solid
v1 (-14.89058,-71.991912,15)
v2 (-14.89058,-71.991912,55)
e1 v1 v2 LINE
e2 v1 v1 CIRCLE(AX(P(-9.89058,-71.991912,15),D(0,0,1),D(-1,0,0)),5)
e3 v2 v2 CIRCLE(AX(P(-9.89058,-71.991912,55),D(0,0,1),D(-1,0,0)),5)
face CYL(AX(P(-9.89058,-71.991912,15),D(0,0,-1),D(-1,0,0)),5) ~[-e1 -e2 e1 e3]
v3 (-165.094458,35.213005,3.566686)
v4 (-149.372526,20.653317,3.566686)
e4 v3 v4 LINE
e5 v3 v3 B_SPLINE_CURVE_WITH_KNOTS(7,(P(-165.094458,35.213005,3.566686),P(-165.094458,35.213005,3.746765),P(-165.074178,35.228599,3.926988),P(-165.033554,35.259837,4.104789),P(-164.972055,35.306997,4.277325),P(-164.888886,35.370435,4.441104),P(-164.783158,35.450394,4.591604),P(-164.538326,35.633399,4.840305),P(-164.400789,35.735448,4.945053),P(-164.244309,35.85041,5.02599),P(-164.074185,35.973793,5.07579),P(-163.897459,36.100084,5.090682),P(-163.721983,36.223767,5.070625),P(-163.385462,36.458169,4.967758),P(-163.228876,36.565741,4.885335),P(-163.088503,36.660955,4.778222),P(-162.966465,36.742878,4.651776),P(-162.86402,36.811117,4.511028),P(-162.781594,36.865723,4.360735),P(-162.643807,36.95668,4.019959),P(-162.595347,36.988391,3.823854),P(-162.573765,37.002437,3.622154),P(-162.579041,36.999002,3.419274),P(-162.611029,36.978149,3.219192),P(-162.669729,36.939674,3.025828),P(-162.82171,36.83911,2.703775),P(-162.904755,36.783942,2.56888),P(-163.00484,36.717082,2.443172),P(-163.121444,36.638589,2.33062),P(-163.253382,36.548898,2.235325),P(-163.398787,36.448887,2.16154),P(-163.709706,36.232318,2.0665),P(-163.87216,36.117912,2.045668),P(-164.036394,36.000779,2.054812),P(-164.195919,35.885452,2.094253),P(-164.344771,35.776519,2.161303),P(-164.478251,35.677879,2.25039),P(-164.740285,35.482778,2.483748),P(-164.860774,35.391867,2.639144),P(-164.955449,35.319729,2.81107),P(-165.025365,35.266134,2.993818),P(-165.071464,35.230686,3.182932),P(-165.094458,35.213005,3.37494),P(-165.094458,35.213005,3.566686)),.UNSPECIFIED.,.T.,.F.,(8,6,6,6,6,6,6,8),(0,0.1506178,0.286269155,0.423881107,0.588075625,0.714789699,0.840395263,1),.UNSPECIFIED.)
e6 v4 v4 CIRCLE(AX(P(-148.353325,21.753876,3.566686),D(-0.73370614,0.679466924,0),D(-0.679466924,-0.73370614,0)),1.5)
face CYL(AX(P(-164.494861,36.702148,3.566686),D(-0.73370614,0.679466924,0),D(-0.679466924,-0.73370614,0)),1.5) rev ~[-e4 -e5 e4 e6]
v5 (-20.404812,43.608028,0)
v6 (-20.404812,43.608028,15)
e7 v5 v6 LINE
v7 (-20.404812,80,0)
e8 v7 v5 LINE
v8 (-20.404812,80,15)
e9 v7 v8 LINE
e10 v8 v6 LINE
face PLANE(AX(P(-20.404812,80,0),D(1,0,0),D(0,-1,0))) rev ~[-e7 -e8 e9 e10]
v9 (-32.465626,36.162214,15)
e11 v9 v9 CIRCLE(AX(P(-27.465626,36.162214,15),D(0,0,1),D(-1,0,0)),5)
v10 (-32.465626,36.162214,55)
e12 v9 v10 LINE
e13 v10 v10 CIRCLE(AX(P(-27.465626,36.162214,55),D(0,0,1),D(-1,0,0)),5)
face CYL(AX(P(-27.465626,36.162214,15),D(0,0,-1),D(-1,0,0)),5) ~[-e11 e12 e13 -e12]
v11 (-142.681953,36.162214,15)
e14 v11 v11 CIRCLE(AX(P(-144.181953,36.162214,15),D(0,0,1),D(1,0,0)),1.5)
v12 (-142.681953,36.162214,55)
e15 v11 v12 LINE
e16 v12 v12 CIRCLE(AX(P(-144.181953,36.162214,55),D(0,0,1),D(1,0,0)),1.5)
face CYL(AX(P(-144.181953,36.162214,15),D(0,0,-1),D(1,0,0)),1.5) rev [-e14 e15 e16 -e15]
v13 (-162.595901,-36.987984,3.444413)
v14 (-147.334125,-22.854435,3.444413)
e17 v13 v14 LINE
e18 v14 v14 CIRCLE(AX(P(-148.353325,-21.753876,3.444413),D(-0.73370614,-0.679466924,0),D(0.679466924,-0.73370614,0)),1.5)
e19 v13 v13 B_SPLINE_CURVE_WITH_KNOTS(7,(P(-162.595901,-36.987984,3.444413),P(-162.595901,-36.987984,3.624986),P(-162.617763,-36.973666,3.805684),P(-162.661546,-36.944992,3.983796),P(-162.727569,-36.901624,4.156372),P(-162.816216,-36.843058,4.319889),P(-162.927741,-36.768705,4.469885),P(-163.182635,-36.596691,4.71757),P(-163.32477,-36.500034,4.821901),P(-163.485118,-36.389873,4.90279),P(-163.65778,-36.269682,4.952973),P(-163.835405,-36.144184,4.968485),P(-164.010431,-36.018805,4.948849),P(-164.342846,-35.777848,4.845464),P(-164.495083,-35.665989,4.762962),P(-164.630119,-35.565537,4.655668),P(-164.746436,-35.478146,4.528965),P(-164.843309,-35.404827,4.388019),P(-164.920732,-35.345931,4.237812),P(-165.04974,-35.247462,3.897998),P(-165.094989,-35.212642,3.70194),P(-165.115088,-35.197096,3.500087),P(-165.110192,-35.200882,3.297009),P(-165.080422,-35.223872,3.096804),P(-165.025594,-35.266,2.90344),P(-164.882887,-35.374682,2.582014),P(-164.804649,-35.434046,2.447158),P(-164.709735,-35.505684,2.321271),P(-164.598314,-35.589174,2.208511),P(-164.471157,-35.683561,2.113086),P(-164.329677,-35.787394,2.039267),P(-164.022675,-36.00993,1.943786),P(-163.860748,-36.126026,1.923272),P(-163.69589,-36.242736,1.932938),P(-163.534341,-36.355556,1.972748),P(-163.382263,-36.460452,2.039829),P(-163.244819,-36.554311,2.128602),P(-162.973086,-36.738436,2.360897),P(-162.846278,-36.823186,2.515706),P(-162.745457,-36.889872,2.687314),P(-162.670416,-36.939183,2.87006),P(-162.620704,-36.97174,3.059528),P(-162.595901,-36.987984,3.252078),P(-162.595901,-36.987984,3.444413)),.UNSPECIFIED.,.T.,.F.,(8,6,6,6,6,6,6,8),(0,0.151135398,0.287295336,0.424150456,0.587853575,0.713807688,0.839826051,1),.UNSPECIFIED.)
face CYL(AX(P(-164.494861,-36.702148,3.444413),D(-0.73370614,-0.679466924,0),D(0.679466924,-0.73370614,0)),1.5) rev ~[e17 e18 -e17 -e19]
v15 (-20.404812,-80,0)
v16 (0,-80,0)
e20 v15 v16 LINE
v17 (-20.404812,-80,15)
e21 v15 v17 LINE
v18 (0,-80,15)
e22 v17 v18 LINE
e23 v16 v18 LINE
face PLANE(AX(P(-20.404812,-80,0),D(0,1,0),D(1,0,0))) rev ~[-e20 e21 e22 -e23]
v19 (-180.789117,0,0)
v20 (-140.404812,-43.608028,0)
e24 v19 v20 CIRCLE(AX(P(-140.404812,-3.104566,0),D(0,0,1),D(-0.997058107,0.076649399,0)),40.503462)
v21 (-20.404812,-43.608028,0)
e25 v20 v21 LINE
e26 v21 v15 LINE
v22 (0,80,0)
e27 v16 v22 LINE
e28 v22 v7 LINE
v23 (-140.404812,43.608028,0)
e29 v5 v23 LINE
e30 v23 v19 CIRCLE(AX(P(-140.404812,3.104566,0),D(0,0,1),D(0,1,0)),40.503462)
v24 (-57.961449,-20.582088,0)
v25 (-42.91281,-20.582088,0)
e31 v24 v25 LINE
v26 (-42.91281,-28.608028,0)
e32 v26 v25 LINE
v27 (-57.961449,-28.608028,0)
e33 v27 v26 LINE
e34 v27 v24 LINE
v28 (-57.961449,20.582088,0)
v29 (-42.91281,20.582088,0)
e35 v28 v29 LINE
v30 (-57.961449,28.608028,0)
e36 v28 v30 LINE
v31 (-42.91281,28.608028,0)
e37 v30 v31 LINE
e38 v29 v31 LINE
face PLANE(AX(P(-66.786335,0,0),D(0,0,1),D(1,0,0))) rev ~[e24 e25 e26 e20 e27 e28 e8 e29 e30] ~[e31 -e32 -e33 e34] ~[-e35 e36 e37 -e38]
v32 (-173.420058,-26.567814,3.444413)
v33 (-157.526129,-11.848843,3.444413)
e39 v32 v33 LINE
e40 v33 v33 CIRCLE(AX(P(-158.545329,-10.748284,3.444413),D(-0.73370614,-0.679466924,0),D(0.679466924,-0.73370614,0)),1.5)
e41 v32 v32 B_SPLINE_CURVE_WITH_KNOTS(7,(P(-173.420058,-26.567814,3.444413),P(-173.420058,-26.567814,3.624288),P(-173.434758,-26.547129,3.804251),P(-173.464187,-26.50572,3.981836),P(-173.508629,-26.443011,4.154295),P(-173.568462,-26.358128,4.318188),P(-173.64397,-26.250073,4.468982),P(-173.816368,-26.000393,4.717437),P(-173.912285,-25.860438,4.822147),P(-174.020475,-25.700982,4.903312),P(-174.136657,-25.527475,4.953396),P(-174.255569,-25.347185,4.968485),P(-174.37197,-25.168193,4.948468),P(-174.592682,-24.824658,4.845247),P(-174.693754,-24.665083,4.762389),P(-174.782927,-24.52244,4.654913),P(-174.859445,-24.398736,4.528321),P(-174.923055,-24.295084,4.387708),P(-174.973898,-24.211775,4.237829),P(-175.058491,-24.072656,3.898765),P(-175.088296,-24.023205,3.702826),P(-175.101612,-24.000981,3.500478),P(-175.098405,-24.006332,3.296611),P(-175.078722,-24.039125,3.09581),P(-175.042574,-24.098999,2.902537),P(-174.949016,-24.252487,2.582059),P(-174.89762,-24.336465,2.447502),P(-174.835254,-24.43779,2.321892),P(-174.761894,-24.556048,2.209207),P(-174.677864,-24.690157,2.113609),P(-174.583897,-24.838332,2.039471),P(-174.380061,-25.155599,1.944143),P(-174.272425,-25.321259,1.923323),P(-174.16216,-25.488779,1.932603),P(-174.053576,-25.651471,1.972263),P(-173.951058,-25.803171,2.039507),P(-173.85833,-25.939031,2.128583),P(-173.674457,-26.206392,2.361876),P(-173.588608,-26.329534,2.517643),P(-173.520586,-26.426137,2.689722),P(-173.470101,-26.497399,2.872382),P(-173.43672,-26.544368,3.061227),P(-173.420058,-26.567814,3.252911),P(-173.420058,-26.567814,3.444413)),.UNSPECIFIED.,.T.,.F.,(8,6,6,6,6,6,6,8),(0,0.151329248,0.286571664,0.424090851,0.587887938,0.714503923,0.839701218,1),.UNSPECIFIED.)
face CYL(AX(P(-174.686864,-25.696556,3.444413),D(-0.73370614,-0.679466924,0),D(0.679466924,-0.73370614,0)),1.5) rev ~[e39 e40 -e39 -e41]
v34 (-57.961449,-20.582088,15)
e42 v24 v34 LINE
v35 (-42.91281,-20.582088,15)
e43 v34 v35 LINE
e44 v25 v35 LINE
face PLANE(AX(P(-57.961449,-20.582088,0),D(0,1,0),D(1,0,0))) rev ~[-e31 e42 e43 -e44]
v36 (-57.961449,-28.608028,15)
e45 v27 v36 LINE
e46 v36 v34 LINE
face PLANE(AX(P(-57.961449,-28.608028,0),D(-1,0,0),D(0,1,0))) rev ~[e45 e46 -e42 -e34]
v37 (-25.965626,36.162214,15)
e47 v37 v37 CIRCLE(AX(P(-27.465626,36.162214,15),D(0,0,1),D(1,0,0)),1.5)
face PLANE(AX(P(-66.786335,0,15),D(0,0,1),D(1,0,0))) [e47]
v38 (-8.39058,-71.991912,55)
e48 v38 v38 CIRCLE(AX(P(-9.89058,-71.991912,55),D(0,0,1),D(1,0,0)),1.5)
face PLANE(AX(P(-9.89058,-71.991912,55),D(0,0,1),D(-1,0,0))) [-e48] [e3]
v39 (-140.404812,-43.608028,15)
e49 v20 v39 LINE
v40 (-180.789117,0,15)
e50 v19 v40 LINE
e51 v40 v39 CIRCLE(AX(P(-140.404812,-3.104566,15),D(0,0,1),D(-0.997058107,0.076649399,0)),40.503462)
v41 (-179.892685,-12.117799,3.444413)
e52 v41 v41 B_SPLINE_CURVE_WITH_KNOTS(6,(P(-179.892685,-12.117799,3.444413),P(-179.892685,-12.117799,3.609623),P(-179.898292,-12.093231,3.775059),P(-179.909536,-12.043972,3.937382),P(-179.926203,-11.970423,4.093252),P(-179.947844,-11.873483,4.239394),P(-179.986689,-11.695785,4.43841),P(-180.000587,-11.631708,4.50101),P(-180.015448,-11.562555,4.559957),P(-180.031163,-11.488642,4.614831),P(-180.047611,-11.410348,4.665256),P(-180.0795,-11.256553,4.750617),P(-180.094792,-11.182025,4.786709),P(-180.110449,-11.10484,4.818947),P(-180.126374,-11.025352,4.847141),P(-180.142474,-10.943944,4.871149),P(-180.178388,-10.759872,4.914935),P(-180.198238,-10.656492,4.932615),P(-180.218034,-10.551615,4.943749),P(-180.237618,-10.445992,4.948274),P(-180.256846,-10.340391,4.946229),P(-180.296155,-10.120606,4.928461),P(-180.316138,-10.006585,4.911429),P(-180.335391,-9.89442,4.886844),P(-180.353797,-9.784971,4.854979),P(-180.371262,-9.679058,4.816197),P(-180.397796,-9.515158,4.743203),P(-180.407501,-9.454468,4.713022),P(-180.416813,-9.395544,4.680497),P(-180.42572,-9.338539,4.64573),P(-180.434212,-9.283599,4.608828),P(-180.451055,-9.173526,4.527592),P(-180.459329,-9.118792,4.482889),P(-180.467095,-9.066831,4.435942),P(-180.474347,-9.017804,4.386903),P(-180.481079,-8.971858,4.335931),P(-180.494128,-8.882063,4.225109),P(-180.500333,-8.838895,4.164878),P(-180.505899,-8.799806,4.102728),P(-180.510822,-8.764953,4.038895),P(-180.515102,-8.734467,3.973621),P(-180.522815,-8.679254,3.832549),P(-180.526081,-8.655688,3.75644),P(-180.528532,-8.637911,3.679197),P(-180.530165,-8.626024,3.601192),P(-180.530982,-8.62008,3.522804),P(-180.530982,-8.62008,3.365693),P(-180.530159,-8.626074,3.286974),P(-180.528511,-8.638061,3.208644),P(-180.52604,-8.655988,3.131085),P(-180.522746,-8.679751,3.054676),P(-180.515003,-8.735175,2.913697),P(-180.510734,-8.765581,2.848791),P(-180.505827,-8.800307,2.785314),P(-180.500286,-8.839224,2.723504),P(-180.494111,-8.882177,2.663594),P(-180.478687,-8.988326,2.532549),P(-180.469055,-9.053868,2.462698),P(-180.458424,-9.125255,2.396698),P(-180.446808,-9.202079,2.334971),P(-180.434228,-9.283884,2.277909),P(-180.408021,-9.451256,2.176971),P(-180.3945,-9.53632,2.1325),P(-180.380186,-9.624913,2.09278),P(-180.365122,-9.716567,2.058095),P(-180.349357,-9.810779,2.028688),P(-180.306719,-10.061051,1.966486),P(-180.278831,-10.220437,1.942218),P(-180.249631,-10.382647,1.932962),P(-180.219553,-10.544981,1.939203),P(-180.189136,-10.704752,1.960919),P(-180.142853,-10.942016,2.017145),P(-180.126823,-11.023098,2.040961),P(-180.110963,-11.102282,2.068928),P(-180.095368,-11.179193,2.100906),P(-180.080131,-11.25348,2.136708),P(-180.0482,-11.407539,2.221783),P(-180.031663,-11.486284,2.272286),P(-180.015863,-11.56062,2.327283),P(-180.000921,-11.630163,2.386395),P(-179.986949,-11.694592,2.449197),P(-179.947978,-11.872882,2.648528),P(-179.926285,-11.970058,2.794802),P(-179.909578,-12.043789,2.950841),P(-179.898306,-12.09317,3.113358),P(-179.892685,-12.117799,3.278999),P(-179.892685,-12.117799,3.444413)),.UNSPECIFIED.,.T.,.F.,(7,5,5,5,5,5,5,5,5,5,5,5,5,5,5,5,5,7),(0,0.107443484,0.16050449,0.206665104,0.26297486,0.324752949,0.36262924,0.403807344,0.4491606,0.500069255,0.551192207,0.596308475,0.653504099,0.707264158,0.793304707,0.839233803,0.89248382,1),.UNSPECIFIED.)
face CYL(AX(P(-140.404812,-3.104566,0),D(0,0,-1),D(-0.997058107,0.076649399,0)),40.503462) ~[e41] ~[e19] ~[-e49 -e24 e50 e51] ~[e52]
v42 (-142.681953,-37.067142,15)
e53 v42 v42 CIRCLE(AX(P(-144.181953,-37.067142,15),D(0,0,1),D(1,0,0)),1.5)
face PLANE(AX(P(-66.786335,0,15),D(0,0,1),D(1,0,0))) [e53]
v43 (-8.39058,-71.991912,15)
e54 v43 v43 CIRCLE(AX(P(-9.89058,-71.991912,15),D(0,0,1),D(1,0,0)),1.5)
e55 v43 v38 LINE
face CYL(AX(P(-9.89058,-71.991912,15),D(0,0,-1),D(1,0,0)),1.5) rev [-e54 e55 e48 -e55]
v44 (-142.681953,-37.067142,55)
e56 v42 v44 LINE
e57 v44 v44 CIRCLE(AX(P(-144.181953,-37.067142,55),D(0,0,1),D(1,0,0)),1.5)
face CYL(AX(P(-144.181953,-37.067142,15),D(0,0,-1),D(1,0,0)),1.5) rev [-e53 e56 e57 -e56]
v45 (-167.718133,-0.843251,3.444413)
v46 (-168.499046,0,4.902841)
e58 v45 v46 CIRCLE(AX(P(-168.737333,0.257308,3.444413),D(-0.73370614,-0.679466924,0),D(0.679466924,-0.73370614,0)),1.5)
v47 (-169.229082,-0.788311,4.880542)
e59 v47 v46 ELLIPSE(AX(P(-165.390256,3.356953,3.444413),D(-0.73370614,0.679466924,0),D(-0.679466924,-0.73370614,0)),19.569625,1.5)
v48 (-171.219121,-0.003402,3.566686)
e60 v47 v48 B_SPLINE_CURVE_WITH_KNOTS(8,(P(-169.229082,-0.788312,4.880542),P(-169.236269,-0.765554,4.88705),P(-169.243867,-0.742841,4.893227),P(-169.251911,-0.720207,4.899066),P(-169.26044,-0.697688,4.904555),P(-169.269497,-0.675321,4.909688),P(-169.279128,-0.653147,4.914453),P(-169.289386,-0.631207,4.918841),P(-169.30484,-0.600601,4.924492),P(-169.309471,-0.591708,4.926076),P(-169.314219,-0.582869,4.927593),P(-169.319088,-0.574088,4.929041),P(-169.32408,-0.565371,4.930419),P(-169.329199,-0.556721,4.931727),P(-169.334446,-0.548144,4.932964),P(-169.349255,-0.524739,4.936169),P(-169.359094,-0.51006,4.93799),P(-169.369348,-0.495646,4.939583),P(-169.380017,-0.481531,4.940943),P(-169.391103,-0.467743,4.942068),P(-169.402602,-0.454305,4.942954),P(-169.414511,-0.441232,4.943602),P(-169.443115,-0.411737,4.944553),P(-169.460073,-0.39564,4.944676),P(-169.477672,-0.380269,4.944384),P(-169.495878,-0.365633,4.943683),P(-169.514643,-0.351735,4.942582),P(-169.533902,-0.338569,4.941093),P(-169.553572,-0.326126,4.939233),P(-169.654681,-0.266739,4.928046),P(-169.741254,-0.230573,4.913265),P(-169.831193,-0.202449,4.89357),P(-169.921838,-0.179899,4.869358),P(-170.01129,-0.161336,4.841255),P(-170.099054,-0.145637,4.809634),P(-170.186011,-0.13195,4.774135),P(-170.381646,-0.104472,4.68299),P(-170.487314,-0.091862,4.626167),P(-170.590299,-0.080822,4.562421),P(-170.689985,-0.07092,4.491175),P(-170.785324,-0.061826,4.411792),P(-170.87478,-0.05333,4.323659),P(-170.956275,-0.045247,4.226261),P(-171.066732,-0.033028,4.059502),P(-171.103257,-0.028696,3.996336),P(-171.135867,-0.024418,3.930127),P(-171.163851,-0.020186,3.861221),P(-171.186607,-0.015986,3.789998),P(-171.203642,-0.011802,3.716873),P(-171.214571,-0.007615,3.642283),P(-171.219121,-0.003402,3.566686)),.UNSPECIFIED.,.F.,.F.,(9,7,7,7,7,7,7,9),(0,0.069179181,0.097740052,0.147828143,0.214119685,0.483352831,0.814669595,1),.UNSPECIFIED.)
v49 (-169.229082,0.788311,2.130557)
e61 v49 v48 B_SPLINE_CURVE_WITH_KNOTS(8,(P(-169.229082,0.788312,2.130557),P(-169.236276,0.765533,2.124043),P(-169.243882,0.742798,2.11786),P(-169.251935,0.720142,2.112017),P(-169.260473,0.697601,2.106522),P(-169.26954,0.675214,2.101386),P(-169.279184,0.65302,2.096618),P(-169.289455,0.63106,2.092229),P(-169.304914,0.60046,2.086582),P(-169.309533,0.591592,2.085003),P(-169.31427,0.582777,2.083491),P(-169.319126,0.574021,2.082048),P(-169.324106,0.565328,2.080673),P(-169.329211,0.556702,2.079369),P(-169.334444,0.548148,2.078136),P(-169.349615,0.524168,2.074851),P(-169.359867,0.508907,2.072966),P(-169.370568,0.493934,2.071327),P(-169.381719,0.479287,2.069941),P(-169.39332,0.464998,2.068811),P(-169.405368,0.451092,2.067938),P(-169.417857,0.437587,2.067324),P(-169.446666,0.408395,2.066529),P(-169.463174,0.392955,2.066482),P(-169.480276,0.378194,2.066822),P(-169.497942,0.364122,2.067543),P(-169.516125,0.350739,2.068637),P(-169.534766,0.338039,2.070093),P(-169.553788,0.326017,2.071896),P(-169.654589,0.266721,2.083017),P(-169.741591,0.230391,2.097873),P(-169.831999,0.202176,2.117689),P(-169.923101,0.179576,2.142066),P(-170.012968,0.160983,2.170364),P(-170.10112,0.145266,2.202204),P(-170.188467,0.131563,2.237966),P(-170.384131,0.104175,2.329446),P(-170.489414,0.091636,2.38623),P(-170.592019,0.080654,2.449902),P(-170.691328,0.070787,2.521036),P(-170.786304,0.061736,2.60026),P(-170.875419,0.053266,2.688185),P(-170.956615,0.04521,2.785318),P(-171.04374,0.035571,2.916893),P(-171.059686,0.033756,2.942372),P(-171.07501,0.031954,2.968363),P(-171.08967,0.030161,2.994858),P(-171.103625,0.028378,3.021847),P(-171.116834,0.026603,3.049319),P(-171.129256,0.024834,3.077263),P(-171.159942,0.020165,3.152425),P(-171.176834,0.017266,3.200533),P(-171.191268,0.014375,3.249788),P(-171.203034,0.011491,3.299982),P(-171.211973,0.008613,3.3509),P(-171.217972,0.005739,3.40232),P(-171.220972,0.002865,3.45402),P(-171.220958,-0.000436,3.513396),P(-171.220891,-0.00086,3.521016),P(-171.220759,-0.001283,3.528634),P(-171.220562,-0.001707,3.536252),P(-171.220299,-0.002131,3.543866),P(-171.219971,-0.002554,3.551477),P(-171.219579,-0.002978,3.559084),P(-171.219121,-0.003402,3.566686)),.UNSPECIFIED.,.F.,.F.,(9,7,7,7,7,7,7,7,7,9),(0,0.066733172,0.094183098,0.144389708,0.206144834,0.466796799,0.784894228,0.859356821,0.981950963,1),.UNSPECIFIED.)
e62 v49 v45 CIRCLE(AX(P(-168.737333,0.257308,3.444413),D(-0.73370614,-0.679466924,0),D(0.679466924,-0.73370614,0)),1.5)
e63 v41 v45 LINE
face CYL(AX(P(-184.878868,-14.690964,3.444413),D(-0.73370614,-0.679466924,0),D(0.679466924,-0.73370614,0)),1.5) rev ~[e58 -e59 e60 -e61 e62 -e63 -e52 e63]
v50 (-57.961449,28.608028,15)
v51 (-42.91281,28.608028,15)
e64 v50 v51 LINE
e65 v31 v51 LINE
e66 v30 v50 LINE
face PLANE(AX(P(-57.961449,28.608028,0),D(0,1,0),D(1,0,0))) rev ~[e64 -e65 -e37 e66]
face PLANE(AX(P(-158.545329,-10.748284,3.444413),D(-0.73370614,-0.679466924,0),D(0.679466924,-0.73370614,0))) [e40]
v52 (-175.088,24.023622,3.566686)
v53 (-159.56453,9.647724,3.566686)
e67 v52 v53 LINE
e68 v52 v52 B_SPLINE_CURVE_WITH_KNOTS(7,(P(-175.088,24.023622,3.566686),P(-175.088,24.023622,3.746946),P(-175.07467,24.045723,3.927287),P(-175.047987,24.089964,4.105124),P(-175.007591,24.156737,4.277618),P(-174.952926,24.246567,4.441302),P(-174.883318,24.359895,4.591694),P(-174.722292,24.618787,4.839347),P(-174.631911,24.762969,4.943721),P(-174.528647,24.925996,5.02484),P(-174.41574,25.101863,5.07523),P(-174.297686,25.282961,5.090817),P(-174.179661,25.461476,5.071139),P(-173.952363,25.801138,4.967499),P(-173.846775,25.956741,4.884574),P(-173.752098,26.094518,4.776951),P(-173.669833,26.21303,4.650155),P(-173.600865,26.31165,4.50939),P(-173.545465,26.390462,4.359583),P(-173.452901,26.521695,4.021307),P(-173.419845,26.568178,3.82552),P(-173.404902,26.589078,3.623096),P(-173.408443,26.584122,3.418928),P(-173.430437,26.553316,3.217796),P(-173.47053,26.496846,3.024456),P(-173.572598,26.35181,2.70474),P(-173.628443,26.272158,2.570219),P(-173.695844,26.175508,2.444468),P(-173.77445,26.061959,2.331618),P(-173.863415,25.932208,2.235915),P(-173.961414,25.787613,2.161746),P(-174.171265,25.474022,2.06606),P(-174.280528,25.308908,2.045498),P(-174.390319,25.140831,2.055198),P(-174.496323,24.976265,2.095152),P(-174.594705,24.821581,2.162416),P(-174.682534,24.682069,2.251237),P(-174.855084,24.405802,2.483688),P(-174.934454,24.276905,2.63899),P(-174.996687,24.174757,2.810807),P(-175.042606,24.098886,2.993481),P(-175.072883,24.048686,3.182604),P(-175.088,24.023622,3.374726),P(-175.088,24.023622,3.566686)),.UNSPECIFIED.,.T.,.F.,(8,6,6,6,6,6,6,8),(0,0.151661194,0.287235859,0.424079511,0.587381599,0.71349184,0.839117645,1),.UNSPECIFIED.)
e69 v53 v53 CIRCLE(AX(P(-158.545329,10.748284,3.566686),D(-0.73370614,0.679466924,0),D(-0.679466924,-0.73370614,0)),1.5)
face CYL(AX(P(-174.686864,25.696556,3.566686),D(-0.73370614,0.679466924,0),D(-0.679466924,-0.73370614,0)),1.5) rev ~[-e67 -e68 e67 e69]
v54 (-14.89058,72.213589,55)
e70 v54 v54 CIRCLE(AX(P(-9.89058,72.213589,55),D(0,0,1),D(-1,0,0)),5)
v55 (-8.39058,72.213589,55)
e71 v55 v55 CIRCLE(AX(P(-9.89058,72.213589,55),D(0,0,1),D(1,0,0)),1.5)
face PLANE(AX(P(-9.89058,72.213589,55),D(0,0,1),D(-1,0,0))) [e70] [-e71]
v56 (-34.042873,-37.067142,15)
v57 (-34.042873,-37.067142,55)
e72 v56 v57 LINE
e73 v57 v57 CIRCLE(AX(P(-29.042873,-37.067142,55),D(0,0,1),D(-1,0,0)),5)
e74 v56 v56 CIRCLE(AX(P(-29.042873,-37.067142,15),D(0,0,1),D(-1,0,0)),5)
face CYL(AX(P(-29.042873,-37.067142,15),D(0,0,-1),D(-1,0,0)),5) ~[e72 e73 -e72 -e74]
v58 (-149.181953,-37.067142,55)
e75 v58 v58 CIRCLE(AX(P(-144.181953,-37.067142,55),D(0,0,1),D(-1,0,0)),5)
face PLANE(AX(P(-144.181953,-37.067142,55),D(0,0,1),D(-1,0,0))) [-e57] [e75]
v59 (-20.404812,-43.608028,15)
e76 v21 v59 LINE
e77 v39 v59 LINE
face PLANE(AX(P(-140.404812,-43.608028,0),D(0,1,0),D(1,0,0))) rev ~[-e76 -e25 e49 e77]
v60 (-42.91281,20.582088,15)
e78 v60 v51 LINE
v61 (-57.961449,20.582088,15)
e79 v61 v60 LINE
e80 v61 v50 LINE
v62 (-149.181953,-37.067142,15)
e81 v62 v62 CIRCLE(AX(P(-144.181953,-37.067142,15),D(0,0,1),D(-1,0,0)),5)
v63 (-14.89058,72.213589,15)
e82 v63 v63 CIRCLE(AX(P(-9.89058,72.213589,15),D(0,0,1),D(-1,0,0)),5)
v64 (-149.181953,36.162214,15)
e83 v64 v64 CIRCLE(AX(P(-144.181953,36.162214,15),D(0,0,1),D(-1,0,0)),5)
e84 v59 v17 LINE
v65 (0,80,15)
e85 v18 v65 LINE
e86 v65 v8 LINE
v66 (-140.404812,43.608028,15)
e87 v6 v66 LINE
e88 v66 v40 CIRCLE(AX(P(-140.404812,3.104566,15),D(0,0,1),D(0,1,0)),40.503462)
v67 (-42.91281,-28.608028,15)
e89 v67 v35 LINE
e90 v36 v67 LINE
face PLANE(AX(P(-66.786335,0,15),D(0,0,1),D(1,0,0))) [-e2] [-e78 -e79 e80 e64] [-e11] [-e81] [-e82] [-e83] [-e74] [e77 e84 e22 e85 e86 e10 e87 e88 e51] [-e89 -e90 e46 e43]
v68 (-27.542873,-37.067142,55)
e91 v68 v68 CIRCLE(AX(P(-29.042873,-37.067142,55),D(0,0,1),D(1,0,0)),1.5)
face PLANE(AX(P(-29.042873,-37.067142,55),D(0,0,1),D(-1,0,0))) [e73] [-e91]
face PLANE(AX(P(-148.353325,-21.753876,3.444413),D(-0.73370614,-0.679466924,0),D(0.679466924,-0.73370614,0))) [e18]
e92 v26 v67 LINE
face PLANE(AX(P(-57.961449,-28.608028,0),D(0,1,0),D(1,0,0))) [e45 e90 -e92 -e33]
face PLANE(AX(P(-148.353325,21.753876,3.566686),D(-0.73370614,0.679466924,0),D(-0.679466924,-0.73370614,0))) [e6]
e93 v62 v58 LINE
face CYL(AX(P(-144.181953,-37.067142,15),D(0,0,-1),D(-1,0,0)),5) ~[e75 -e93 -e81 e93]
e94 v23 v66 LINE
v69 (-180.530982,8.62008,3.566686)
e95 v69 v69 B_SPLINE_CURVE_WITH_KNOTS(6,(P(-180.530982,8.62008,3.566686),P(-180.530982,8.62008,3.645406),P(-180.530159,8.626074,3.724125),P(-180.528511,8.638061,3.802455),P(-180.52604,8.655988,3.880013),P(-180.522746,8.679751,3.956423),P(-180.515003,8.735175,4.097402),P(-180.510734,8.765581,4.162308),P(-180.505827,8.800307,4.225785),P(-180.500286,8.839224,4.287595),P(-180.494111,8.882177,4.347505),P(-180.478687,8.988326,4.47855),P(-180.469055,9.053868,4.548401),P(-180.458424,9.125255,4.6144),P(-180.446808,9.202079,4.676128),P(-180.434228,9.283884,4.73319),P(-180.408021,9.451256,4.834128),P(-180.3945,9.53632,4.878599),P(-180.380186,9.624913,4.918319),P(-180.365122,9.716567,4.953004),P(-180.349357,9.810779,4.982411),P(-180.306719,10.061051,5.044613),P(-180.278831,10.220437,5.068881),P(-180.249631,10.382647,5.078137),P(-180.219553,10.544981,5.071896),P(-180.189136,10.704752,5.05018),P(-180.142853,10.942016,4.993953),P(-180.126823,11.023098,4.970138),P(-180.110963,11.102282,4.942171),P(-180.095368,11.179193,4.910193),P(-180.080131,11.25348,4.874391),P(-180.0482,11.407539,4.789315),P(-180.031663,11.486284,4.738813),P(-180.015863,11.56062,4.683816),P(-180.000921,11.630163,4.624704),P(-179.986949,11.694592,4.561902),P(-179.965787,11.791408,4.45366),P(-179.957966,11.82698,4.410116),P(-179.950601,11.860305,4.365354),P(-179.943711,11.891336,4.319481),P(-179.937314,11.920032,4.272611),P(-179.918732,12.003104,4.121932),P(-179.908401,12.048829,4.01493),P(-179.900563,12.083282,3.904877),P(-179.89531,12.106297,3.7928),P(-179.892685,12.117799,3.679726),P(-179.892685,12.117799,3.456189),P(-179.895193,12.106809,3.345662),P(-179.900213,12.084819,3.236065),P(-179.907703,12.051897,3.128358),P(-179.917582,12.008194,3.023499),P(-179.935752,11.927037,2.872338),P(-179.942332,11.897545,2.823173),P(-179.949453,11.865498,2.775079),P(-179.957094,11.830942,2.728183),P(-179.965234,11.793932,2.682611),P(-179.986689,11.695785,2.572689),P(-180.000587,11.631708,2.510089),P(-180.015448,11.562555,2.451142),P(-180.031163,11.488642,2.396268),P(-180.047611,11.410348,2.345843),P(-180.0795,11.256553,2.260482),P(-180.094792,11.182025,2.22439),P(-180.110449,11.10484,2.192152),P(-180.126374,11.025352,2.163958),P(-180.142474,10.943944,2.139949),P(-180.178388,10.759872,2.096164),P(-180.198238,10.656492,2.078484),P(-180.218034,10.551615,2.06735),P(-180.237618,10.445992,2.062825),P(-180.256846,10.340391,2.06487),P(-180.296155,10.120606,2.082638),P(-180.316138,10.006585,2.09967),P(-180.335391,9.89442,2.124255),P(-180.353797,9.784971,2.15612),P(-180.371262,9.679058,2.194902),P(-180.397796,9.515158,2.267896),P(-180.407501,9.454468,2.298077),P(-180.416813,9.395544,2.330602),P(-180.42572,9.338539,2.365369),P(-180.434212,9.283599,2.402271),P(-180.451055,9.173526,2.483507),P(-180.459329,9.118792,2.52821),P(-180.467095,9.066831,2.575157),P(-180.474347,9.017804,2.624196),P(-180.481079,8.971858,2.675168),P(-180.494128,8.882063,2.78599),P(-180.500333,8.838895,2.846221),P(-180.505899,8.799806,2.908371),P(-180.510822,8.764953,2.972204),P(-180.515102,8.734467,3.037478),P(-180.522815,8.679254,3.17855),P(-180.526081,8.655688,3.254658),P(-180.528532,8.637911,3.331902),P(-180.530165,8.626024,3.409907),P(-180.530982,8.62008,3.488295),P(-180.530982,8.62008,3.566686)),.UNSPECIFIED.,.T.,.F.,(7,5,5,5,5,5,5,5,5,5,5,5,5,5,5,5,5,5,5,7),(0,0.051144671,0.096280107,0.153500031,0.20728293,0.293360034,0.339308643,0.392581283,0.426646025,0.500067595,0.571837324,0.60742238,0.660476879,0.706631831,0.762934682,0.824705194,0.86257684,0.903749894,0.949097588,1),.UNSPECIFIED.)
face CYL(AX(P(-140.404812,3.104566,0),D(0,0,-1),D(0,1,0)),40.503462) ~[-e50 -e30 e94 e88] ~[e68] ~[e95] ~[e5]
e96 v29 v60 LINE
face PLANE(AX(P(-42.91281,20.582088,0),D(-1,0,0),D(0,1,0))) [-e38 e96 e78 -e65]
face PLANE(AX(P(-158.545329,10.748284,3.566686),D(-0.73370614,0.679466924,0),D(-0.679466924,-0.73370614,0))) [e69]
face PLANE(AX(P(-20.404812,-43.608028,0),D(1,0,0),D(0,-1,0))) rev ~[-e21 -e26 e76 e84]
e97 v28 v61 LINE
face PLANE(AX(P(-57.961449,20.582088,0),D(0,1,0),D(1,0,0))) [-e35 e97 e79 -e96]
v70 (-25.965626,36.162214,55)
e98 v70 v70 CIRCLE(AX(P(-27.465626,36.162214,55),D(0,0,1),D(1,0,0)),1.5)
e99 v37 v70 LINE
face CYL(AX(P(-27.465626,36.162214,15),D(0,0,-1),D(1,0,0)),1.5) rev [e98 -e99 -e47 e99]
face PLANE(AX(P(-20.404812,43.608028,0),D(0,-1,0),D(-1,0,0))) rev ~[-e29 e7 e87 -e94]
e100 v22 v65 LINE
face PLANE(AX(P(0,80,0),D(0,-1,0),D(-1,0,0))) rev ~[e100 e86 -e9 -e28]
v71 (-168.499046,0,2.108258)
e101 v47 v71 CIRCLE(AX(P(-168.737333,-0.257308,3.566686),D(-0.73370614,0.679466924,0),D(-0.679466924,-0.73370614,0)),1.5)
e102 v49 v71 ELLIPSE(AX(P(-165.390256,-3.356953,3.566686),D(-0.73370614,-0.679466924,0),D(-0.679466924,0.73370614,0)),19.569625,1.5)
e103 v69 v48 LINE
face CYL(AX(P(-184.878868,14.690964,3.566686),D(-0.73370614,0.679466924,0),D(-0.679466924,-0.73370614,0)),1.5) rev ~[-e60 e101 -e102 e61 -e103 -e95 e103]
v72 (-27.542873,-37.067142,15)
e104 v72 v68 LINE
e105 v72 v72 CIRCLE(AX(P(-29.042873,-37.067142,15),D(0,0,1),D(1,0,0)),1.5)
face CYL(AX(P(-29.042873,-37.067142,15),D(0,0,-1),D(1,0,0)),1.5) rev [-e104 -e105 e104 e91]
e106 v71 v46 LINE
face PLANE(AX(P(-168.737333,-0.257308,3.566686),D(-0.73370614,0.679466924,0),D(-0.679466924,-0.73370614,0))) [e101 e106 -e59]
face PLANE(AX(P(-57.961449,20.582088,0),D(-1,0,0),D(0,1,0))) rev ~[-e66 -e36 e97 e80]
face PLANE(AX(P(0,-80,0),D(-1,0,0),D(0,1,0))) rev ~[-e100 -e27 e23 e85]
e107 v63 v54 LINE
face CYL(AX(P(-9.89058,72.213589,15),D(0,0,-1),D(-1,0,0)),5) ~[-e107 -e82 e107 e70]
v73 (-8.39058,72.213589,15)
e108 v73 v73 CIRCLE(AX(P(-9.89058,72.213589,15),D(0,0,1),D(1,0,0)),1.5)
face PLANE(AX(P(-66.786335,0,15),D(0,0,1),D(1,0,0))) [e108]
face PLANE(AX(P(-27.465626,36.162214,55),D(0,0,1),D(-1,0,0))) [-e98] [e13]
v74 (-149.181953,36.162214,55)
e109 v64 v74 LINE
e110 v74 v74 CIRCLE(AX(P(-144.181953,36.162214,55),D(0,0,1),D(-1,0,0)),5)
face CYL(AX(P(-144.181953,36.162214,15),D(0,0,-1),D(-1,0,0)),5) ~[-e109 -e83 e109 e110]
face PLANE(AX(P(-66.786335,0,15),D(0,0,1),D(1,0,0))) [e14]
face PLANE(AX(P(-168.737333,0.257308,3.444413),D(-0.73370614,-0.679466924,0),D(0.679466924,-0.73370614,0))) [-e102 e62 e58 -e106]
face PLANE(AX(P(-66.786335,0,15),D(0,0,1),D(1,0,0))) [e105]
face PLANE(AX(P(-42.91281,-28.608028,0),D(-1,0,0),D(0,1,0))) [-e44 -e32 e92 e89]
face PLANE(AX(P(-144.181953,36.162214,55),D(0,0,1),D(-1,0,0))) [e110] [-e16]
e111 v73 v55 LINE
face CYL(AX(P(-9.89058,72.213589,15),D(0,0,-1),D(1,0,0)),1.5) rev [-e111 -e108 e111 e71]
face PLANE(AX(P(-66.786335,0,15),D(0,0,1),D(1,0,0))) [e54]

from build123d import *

# Parameters (mm, degrees)
ESQUISSE1_W             = 15.04863884
ESQUISSE1_H             = 8.025940715
BOSS_EXTRU_2_DEPTH      = 15
ESQUISSE2_R             = 1.5
ENL_V_MAT_EXTRU_1_DEPTH = 22
ESQUISSE7_R             = 1.5
ENL_V_MAT_EXTRU_2_DEPTH = 22
ESQUISSE8_R             = 5
ESQUISSE8_R_2           = 1.5
BOSS_EXTRU_3_DEPTH      = 40


with BuildPart() as part:
    # Esquisse1 → Boss.-Extru.2 (new body)
    with BuildSketch(Plane.XY):
        with BuildLine():
            Line((-20.404811956, 60.852158428), (-20.404811956, 43.608028339))
            Line((-20.404811956, 43.608028339), (-140.404811956, 43.608028339))
            ThreePointArc((-140.404811956, 43.608028339), (-170.122450923, 30.625328971), (-180.789117416, 0))
            ThreePointArc((-180.789117416, 0), (-170.122450923, -30.625328971), (-140.404811956, -43.608028339))
            Line((-140.404811956, -43.608028339), (-20.404811956, -43.608028339))
            Line((-20.404811956, -43.608028339), (-20.404811956, -60.852158428))
            Line((-20.404811956, -60.852158428), (-20.404811956, -80))
            Line((-20.404811956, -80), (0, -80))
            Line((0, -80), (0, 80))
            Line((0, 80), (-20.404811956, 80))
            Line((-20.404811956, 80), (-20.404811956, 60.852158428))
        make_face()
        with Locations((-50.437129359, 24.595057981)):
            Rectangle(ESQUISSE1_W, ESQUISSE1_H, mode=Mode.SUBTRACT)
        with Locations((-50.437129359, -24.595057981)):
            Rectangle(ESQUISSE1_W, ESQUISSE1_H, mode=Mode.SUBTRACT)
    extrude(amount=BOSS_EXTRU_2_DEPTH)

    # Esquisse2 → Enlèv. mat.-Extru.1 (cut)
    with BuildSketch(Plane(origin=(-170.122450923, 30.625328971, 0), x_dir=(0, 0, 1), z_dir=(-0.7337061397658711, 0.6794669237496878, 0))):
        with Locations(Location((3.566685756, 8.282361033, 0), (0, 0, 270))):
            Circle(ESQUISSE2_R)
        with Locations(Location((3.566685756, -21.717638967, 0), (0, 0, 270))):
            Circle(ESQUISSE2_R)
        with Locations(Location((3.566685756, -6.717638967, 0), (0, 0, 270))):
            Circle(ESQUISSE2_R)
    extrude(amount=-ENL_V_MAT_EXTRU_1_DEPTH, mode=Mode.SUBTRACT)

    # Esquisse7 → Enlèv. mat.-Extru.2 (cut)
    with BuildSketch(Plane(origin=(-170.122450923, -30.625328971, 15), x_dir=(0, 0, 1), z_dir=(-0.7337061397658707, -0.6794669237496883, 0))):
        with Locations(Location((-11.555586861, 21.717638967, 0), (0, 0, 270))):
            Circle(ESQUISSE7_R)
        with Locations(Location((-11.555586861, -8.282361033, 0), (0, 0, 270))):
            Circle(ESQUISSE7_R)
        with Locations(Location((-11.555586861, 6.717638967, 0), (0, 0, 270))):
            Circle(ESQUISSE7_R)
    extrude(amount=-ENL_V_MAT_EXTRU_2_DEPTH, mode=Mode.SUBTRACT)

    # Esquisse8 → Boss.-Extru.3 (add)
    # profile 1 of 6: a face of its own
    with BuildSketch(Plane.XY.offset(15)):
        with Locations(Location((-9.890580264, 72.213588888, 0), (0, 0, 180))):
            Circle(ESQUISSE8_R)
        with Locations((-9.890580264, 72.213588888)):
            Circle(ESQUISSE8_R_2, mode=Mode.SUBTRACT)
    # profile 2 of 6: a face of its own
    with BuildSketch(Plane.XY.offset(15)):
        with Locations(Location((-9.890580264, -71.991912234, 0), (0, 0, 180))):
            Circle(ESQUISSE8_R)
        with Locations((-9.890580264, -71.991912234)):
            Circle(ESQUISSE8_R_2, mode=Mode.SUBTRACT)
    # profile 3 of 6: a face of its own
    with BuildSketch(Plane.XY.offset(15)):
        with Locations(Location((-27.465625713, 36.162213608, 0), (0, 0, 180))):
            Circle(ESQUISSE8_R)
        with Locations((-27.465625713, 36.162213608)):
            Circle(ESQUISSE8_R_2, mode=Mode.SUBTRACT)
    # profile 4 of 6: a face of its own
    with BuildSketch(Plane.XY.offset(15)):
        with Locations(Location((-29.042873382, -37.067142431, 0), (0, 0, 180))):
            Circle(ESQUISSE8_R)
        with Locations((-29.042873382, -37.067142431)):
            Circle(ESQUISSE8_R_2, mode=Mode.SUBTRACT)
    # profile 5 of 6: a face of its own
    with BuildSketch(Plane.XY.offset(15)):
        with Locations(Location((-144.181953183, 36.162213608, 0), (0, 0, 180))):
            Circle(ESQUISSE8_R)
        with Locations((-144.181953183, 36.162213608)):
            Circle(ESQUISSE8_R_2, mode=Mode.SUBTRACT)
    # profile 6 of 6: a face of its own
    with BuildSketch(Plane.XY.offset(15)):
        with Locations(Location((-144.181953183, -37.067142431, 0), (0, 0, 180))):
            Circle(ESQUISSE8_R)
        with Locations((-144.181953183, -37.067142431)):
            Circle(ESQUISSE8_R_2, mode=Mode.SUBTRACT)
    extrude(amount=BOSS_EXTRU_3_DEPTH)


solid = part.part
